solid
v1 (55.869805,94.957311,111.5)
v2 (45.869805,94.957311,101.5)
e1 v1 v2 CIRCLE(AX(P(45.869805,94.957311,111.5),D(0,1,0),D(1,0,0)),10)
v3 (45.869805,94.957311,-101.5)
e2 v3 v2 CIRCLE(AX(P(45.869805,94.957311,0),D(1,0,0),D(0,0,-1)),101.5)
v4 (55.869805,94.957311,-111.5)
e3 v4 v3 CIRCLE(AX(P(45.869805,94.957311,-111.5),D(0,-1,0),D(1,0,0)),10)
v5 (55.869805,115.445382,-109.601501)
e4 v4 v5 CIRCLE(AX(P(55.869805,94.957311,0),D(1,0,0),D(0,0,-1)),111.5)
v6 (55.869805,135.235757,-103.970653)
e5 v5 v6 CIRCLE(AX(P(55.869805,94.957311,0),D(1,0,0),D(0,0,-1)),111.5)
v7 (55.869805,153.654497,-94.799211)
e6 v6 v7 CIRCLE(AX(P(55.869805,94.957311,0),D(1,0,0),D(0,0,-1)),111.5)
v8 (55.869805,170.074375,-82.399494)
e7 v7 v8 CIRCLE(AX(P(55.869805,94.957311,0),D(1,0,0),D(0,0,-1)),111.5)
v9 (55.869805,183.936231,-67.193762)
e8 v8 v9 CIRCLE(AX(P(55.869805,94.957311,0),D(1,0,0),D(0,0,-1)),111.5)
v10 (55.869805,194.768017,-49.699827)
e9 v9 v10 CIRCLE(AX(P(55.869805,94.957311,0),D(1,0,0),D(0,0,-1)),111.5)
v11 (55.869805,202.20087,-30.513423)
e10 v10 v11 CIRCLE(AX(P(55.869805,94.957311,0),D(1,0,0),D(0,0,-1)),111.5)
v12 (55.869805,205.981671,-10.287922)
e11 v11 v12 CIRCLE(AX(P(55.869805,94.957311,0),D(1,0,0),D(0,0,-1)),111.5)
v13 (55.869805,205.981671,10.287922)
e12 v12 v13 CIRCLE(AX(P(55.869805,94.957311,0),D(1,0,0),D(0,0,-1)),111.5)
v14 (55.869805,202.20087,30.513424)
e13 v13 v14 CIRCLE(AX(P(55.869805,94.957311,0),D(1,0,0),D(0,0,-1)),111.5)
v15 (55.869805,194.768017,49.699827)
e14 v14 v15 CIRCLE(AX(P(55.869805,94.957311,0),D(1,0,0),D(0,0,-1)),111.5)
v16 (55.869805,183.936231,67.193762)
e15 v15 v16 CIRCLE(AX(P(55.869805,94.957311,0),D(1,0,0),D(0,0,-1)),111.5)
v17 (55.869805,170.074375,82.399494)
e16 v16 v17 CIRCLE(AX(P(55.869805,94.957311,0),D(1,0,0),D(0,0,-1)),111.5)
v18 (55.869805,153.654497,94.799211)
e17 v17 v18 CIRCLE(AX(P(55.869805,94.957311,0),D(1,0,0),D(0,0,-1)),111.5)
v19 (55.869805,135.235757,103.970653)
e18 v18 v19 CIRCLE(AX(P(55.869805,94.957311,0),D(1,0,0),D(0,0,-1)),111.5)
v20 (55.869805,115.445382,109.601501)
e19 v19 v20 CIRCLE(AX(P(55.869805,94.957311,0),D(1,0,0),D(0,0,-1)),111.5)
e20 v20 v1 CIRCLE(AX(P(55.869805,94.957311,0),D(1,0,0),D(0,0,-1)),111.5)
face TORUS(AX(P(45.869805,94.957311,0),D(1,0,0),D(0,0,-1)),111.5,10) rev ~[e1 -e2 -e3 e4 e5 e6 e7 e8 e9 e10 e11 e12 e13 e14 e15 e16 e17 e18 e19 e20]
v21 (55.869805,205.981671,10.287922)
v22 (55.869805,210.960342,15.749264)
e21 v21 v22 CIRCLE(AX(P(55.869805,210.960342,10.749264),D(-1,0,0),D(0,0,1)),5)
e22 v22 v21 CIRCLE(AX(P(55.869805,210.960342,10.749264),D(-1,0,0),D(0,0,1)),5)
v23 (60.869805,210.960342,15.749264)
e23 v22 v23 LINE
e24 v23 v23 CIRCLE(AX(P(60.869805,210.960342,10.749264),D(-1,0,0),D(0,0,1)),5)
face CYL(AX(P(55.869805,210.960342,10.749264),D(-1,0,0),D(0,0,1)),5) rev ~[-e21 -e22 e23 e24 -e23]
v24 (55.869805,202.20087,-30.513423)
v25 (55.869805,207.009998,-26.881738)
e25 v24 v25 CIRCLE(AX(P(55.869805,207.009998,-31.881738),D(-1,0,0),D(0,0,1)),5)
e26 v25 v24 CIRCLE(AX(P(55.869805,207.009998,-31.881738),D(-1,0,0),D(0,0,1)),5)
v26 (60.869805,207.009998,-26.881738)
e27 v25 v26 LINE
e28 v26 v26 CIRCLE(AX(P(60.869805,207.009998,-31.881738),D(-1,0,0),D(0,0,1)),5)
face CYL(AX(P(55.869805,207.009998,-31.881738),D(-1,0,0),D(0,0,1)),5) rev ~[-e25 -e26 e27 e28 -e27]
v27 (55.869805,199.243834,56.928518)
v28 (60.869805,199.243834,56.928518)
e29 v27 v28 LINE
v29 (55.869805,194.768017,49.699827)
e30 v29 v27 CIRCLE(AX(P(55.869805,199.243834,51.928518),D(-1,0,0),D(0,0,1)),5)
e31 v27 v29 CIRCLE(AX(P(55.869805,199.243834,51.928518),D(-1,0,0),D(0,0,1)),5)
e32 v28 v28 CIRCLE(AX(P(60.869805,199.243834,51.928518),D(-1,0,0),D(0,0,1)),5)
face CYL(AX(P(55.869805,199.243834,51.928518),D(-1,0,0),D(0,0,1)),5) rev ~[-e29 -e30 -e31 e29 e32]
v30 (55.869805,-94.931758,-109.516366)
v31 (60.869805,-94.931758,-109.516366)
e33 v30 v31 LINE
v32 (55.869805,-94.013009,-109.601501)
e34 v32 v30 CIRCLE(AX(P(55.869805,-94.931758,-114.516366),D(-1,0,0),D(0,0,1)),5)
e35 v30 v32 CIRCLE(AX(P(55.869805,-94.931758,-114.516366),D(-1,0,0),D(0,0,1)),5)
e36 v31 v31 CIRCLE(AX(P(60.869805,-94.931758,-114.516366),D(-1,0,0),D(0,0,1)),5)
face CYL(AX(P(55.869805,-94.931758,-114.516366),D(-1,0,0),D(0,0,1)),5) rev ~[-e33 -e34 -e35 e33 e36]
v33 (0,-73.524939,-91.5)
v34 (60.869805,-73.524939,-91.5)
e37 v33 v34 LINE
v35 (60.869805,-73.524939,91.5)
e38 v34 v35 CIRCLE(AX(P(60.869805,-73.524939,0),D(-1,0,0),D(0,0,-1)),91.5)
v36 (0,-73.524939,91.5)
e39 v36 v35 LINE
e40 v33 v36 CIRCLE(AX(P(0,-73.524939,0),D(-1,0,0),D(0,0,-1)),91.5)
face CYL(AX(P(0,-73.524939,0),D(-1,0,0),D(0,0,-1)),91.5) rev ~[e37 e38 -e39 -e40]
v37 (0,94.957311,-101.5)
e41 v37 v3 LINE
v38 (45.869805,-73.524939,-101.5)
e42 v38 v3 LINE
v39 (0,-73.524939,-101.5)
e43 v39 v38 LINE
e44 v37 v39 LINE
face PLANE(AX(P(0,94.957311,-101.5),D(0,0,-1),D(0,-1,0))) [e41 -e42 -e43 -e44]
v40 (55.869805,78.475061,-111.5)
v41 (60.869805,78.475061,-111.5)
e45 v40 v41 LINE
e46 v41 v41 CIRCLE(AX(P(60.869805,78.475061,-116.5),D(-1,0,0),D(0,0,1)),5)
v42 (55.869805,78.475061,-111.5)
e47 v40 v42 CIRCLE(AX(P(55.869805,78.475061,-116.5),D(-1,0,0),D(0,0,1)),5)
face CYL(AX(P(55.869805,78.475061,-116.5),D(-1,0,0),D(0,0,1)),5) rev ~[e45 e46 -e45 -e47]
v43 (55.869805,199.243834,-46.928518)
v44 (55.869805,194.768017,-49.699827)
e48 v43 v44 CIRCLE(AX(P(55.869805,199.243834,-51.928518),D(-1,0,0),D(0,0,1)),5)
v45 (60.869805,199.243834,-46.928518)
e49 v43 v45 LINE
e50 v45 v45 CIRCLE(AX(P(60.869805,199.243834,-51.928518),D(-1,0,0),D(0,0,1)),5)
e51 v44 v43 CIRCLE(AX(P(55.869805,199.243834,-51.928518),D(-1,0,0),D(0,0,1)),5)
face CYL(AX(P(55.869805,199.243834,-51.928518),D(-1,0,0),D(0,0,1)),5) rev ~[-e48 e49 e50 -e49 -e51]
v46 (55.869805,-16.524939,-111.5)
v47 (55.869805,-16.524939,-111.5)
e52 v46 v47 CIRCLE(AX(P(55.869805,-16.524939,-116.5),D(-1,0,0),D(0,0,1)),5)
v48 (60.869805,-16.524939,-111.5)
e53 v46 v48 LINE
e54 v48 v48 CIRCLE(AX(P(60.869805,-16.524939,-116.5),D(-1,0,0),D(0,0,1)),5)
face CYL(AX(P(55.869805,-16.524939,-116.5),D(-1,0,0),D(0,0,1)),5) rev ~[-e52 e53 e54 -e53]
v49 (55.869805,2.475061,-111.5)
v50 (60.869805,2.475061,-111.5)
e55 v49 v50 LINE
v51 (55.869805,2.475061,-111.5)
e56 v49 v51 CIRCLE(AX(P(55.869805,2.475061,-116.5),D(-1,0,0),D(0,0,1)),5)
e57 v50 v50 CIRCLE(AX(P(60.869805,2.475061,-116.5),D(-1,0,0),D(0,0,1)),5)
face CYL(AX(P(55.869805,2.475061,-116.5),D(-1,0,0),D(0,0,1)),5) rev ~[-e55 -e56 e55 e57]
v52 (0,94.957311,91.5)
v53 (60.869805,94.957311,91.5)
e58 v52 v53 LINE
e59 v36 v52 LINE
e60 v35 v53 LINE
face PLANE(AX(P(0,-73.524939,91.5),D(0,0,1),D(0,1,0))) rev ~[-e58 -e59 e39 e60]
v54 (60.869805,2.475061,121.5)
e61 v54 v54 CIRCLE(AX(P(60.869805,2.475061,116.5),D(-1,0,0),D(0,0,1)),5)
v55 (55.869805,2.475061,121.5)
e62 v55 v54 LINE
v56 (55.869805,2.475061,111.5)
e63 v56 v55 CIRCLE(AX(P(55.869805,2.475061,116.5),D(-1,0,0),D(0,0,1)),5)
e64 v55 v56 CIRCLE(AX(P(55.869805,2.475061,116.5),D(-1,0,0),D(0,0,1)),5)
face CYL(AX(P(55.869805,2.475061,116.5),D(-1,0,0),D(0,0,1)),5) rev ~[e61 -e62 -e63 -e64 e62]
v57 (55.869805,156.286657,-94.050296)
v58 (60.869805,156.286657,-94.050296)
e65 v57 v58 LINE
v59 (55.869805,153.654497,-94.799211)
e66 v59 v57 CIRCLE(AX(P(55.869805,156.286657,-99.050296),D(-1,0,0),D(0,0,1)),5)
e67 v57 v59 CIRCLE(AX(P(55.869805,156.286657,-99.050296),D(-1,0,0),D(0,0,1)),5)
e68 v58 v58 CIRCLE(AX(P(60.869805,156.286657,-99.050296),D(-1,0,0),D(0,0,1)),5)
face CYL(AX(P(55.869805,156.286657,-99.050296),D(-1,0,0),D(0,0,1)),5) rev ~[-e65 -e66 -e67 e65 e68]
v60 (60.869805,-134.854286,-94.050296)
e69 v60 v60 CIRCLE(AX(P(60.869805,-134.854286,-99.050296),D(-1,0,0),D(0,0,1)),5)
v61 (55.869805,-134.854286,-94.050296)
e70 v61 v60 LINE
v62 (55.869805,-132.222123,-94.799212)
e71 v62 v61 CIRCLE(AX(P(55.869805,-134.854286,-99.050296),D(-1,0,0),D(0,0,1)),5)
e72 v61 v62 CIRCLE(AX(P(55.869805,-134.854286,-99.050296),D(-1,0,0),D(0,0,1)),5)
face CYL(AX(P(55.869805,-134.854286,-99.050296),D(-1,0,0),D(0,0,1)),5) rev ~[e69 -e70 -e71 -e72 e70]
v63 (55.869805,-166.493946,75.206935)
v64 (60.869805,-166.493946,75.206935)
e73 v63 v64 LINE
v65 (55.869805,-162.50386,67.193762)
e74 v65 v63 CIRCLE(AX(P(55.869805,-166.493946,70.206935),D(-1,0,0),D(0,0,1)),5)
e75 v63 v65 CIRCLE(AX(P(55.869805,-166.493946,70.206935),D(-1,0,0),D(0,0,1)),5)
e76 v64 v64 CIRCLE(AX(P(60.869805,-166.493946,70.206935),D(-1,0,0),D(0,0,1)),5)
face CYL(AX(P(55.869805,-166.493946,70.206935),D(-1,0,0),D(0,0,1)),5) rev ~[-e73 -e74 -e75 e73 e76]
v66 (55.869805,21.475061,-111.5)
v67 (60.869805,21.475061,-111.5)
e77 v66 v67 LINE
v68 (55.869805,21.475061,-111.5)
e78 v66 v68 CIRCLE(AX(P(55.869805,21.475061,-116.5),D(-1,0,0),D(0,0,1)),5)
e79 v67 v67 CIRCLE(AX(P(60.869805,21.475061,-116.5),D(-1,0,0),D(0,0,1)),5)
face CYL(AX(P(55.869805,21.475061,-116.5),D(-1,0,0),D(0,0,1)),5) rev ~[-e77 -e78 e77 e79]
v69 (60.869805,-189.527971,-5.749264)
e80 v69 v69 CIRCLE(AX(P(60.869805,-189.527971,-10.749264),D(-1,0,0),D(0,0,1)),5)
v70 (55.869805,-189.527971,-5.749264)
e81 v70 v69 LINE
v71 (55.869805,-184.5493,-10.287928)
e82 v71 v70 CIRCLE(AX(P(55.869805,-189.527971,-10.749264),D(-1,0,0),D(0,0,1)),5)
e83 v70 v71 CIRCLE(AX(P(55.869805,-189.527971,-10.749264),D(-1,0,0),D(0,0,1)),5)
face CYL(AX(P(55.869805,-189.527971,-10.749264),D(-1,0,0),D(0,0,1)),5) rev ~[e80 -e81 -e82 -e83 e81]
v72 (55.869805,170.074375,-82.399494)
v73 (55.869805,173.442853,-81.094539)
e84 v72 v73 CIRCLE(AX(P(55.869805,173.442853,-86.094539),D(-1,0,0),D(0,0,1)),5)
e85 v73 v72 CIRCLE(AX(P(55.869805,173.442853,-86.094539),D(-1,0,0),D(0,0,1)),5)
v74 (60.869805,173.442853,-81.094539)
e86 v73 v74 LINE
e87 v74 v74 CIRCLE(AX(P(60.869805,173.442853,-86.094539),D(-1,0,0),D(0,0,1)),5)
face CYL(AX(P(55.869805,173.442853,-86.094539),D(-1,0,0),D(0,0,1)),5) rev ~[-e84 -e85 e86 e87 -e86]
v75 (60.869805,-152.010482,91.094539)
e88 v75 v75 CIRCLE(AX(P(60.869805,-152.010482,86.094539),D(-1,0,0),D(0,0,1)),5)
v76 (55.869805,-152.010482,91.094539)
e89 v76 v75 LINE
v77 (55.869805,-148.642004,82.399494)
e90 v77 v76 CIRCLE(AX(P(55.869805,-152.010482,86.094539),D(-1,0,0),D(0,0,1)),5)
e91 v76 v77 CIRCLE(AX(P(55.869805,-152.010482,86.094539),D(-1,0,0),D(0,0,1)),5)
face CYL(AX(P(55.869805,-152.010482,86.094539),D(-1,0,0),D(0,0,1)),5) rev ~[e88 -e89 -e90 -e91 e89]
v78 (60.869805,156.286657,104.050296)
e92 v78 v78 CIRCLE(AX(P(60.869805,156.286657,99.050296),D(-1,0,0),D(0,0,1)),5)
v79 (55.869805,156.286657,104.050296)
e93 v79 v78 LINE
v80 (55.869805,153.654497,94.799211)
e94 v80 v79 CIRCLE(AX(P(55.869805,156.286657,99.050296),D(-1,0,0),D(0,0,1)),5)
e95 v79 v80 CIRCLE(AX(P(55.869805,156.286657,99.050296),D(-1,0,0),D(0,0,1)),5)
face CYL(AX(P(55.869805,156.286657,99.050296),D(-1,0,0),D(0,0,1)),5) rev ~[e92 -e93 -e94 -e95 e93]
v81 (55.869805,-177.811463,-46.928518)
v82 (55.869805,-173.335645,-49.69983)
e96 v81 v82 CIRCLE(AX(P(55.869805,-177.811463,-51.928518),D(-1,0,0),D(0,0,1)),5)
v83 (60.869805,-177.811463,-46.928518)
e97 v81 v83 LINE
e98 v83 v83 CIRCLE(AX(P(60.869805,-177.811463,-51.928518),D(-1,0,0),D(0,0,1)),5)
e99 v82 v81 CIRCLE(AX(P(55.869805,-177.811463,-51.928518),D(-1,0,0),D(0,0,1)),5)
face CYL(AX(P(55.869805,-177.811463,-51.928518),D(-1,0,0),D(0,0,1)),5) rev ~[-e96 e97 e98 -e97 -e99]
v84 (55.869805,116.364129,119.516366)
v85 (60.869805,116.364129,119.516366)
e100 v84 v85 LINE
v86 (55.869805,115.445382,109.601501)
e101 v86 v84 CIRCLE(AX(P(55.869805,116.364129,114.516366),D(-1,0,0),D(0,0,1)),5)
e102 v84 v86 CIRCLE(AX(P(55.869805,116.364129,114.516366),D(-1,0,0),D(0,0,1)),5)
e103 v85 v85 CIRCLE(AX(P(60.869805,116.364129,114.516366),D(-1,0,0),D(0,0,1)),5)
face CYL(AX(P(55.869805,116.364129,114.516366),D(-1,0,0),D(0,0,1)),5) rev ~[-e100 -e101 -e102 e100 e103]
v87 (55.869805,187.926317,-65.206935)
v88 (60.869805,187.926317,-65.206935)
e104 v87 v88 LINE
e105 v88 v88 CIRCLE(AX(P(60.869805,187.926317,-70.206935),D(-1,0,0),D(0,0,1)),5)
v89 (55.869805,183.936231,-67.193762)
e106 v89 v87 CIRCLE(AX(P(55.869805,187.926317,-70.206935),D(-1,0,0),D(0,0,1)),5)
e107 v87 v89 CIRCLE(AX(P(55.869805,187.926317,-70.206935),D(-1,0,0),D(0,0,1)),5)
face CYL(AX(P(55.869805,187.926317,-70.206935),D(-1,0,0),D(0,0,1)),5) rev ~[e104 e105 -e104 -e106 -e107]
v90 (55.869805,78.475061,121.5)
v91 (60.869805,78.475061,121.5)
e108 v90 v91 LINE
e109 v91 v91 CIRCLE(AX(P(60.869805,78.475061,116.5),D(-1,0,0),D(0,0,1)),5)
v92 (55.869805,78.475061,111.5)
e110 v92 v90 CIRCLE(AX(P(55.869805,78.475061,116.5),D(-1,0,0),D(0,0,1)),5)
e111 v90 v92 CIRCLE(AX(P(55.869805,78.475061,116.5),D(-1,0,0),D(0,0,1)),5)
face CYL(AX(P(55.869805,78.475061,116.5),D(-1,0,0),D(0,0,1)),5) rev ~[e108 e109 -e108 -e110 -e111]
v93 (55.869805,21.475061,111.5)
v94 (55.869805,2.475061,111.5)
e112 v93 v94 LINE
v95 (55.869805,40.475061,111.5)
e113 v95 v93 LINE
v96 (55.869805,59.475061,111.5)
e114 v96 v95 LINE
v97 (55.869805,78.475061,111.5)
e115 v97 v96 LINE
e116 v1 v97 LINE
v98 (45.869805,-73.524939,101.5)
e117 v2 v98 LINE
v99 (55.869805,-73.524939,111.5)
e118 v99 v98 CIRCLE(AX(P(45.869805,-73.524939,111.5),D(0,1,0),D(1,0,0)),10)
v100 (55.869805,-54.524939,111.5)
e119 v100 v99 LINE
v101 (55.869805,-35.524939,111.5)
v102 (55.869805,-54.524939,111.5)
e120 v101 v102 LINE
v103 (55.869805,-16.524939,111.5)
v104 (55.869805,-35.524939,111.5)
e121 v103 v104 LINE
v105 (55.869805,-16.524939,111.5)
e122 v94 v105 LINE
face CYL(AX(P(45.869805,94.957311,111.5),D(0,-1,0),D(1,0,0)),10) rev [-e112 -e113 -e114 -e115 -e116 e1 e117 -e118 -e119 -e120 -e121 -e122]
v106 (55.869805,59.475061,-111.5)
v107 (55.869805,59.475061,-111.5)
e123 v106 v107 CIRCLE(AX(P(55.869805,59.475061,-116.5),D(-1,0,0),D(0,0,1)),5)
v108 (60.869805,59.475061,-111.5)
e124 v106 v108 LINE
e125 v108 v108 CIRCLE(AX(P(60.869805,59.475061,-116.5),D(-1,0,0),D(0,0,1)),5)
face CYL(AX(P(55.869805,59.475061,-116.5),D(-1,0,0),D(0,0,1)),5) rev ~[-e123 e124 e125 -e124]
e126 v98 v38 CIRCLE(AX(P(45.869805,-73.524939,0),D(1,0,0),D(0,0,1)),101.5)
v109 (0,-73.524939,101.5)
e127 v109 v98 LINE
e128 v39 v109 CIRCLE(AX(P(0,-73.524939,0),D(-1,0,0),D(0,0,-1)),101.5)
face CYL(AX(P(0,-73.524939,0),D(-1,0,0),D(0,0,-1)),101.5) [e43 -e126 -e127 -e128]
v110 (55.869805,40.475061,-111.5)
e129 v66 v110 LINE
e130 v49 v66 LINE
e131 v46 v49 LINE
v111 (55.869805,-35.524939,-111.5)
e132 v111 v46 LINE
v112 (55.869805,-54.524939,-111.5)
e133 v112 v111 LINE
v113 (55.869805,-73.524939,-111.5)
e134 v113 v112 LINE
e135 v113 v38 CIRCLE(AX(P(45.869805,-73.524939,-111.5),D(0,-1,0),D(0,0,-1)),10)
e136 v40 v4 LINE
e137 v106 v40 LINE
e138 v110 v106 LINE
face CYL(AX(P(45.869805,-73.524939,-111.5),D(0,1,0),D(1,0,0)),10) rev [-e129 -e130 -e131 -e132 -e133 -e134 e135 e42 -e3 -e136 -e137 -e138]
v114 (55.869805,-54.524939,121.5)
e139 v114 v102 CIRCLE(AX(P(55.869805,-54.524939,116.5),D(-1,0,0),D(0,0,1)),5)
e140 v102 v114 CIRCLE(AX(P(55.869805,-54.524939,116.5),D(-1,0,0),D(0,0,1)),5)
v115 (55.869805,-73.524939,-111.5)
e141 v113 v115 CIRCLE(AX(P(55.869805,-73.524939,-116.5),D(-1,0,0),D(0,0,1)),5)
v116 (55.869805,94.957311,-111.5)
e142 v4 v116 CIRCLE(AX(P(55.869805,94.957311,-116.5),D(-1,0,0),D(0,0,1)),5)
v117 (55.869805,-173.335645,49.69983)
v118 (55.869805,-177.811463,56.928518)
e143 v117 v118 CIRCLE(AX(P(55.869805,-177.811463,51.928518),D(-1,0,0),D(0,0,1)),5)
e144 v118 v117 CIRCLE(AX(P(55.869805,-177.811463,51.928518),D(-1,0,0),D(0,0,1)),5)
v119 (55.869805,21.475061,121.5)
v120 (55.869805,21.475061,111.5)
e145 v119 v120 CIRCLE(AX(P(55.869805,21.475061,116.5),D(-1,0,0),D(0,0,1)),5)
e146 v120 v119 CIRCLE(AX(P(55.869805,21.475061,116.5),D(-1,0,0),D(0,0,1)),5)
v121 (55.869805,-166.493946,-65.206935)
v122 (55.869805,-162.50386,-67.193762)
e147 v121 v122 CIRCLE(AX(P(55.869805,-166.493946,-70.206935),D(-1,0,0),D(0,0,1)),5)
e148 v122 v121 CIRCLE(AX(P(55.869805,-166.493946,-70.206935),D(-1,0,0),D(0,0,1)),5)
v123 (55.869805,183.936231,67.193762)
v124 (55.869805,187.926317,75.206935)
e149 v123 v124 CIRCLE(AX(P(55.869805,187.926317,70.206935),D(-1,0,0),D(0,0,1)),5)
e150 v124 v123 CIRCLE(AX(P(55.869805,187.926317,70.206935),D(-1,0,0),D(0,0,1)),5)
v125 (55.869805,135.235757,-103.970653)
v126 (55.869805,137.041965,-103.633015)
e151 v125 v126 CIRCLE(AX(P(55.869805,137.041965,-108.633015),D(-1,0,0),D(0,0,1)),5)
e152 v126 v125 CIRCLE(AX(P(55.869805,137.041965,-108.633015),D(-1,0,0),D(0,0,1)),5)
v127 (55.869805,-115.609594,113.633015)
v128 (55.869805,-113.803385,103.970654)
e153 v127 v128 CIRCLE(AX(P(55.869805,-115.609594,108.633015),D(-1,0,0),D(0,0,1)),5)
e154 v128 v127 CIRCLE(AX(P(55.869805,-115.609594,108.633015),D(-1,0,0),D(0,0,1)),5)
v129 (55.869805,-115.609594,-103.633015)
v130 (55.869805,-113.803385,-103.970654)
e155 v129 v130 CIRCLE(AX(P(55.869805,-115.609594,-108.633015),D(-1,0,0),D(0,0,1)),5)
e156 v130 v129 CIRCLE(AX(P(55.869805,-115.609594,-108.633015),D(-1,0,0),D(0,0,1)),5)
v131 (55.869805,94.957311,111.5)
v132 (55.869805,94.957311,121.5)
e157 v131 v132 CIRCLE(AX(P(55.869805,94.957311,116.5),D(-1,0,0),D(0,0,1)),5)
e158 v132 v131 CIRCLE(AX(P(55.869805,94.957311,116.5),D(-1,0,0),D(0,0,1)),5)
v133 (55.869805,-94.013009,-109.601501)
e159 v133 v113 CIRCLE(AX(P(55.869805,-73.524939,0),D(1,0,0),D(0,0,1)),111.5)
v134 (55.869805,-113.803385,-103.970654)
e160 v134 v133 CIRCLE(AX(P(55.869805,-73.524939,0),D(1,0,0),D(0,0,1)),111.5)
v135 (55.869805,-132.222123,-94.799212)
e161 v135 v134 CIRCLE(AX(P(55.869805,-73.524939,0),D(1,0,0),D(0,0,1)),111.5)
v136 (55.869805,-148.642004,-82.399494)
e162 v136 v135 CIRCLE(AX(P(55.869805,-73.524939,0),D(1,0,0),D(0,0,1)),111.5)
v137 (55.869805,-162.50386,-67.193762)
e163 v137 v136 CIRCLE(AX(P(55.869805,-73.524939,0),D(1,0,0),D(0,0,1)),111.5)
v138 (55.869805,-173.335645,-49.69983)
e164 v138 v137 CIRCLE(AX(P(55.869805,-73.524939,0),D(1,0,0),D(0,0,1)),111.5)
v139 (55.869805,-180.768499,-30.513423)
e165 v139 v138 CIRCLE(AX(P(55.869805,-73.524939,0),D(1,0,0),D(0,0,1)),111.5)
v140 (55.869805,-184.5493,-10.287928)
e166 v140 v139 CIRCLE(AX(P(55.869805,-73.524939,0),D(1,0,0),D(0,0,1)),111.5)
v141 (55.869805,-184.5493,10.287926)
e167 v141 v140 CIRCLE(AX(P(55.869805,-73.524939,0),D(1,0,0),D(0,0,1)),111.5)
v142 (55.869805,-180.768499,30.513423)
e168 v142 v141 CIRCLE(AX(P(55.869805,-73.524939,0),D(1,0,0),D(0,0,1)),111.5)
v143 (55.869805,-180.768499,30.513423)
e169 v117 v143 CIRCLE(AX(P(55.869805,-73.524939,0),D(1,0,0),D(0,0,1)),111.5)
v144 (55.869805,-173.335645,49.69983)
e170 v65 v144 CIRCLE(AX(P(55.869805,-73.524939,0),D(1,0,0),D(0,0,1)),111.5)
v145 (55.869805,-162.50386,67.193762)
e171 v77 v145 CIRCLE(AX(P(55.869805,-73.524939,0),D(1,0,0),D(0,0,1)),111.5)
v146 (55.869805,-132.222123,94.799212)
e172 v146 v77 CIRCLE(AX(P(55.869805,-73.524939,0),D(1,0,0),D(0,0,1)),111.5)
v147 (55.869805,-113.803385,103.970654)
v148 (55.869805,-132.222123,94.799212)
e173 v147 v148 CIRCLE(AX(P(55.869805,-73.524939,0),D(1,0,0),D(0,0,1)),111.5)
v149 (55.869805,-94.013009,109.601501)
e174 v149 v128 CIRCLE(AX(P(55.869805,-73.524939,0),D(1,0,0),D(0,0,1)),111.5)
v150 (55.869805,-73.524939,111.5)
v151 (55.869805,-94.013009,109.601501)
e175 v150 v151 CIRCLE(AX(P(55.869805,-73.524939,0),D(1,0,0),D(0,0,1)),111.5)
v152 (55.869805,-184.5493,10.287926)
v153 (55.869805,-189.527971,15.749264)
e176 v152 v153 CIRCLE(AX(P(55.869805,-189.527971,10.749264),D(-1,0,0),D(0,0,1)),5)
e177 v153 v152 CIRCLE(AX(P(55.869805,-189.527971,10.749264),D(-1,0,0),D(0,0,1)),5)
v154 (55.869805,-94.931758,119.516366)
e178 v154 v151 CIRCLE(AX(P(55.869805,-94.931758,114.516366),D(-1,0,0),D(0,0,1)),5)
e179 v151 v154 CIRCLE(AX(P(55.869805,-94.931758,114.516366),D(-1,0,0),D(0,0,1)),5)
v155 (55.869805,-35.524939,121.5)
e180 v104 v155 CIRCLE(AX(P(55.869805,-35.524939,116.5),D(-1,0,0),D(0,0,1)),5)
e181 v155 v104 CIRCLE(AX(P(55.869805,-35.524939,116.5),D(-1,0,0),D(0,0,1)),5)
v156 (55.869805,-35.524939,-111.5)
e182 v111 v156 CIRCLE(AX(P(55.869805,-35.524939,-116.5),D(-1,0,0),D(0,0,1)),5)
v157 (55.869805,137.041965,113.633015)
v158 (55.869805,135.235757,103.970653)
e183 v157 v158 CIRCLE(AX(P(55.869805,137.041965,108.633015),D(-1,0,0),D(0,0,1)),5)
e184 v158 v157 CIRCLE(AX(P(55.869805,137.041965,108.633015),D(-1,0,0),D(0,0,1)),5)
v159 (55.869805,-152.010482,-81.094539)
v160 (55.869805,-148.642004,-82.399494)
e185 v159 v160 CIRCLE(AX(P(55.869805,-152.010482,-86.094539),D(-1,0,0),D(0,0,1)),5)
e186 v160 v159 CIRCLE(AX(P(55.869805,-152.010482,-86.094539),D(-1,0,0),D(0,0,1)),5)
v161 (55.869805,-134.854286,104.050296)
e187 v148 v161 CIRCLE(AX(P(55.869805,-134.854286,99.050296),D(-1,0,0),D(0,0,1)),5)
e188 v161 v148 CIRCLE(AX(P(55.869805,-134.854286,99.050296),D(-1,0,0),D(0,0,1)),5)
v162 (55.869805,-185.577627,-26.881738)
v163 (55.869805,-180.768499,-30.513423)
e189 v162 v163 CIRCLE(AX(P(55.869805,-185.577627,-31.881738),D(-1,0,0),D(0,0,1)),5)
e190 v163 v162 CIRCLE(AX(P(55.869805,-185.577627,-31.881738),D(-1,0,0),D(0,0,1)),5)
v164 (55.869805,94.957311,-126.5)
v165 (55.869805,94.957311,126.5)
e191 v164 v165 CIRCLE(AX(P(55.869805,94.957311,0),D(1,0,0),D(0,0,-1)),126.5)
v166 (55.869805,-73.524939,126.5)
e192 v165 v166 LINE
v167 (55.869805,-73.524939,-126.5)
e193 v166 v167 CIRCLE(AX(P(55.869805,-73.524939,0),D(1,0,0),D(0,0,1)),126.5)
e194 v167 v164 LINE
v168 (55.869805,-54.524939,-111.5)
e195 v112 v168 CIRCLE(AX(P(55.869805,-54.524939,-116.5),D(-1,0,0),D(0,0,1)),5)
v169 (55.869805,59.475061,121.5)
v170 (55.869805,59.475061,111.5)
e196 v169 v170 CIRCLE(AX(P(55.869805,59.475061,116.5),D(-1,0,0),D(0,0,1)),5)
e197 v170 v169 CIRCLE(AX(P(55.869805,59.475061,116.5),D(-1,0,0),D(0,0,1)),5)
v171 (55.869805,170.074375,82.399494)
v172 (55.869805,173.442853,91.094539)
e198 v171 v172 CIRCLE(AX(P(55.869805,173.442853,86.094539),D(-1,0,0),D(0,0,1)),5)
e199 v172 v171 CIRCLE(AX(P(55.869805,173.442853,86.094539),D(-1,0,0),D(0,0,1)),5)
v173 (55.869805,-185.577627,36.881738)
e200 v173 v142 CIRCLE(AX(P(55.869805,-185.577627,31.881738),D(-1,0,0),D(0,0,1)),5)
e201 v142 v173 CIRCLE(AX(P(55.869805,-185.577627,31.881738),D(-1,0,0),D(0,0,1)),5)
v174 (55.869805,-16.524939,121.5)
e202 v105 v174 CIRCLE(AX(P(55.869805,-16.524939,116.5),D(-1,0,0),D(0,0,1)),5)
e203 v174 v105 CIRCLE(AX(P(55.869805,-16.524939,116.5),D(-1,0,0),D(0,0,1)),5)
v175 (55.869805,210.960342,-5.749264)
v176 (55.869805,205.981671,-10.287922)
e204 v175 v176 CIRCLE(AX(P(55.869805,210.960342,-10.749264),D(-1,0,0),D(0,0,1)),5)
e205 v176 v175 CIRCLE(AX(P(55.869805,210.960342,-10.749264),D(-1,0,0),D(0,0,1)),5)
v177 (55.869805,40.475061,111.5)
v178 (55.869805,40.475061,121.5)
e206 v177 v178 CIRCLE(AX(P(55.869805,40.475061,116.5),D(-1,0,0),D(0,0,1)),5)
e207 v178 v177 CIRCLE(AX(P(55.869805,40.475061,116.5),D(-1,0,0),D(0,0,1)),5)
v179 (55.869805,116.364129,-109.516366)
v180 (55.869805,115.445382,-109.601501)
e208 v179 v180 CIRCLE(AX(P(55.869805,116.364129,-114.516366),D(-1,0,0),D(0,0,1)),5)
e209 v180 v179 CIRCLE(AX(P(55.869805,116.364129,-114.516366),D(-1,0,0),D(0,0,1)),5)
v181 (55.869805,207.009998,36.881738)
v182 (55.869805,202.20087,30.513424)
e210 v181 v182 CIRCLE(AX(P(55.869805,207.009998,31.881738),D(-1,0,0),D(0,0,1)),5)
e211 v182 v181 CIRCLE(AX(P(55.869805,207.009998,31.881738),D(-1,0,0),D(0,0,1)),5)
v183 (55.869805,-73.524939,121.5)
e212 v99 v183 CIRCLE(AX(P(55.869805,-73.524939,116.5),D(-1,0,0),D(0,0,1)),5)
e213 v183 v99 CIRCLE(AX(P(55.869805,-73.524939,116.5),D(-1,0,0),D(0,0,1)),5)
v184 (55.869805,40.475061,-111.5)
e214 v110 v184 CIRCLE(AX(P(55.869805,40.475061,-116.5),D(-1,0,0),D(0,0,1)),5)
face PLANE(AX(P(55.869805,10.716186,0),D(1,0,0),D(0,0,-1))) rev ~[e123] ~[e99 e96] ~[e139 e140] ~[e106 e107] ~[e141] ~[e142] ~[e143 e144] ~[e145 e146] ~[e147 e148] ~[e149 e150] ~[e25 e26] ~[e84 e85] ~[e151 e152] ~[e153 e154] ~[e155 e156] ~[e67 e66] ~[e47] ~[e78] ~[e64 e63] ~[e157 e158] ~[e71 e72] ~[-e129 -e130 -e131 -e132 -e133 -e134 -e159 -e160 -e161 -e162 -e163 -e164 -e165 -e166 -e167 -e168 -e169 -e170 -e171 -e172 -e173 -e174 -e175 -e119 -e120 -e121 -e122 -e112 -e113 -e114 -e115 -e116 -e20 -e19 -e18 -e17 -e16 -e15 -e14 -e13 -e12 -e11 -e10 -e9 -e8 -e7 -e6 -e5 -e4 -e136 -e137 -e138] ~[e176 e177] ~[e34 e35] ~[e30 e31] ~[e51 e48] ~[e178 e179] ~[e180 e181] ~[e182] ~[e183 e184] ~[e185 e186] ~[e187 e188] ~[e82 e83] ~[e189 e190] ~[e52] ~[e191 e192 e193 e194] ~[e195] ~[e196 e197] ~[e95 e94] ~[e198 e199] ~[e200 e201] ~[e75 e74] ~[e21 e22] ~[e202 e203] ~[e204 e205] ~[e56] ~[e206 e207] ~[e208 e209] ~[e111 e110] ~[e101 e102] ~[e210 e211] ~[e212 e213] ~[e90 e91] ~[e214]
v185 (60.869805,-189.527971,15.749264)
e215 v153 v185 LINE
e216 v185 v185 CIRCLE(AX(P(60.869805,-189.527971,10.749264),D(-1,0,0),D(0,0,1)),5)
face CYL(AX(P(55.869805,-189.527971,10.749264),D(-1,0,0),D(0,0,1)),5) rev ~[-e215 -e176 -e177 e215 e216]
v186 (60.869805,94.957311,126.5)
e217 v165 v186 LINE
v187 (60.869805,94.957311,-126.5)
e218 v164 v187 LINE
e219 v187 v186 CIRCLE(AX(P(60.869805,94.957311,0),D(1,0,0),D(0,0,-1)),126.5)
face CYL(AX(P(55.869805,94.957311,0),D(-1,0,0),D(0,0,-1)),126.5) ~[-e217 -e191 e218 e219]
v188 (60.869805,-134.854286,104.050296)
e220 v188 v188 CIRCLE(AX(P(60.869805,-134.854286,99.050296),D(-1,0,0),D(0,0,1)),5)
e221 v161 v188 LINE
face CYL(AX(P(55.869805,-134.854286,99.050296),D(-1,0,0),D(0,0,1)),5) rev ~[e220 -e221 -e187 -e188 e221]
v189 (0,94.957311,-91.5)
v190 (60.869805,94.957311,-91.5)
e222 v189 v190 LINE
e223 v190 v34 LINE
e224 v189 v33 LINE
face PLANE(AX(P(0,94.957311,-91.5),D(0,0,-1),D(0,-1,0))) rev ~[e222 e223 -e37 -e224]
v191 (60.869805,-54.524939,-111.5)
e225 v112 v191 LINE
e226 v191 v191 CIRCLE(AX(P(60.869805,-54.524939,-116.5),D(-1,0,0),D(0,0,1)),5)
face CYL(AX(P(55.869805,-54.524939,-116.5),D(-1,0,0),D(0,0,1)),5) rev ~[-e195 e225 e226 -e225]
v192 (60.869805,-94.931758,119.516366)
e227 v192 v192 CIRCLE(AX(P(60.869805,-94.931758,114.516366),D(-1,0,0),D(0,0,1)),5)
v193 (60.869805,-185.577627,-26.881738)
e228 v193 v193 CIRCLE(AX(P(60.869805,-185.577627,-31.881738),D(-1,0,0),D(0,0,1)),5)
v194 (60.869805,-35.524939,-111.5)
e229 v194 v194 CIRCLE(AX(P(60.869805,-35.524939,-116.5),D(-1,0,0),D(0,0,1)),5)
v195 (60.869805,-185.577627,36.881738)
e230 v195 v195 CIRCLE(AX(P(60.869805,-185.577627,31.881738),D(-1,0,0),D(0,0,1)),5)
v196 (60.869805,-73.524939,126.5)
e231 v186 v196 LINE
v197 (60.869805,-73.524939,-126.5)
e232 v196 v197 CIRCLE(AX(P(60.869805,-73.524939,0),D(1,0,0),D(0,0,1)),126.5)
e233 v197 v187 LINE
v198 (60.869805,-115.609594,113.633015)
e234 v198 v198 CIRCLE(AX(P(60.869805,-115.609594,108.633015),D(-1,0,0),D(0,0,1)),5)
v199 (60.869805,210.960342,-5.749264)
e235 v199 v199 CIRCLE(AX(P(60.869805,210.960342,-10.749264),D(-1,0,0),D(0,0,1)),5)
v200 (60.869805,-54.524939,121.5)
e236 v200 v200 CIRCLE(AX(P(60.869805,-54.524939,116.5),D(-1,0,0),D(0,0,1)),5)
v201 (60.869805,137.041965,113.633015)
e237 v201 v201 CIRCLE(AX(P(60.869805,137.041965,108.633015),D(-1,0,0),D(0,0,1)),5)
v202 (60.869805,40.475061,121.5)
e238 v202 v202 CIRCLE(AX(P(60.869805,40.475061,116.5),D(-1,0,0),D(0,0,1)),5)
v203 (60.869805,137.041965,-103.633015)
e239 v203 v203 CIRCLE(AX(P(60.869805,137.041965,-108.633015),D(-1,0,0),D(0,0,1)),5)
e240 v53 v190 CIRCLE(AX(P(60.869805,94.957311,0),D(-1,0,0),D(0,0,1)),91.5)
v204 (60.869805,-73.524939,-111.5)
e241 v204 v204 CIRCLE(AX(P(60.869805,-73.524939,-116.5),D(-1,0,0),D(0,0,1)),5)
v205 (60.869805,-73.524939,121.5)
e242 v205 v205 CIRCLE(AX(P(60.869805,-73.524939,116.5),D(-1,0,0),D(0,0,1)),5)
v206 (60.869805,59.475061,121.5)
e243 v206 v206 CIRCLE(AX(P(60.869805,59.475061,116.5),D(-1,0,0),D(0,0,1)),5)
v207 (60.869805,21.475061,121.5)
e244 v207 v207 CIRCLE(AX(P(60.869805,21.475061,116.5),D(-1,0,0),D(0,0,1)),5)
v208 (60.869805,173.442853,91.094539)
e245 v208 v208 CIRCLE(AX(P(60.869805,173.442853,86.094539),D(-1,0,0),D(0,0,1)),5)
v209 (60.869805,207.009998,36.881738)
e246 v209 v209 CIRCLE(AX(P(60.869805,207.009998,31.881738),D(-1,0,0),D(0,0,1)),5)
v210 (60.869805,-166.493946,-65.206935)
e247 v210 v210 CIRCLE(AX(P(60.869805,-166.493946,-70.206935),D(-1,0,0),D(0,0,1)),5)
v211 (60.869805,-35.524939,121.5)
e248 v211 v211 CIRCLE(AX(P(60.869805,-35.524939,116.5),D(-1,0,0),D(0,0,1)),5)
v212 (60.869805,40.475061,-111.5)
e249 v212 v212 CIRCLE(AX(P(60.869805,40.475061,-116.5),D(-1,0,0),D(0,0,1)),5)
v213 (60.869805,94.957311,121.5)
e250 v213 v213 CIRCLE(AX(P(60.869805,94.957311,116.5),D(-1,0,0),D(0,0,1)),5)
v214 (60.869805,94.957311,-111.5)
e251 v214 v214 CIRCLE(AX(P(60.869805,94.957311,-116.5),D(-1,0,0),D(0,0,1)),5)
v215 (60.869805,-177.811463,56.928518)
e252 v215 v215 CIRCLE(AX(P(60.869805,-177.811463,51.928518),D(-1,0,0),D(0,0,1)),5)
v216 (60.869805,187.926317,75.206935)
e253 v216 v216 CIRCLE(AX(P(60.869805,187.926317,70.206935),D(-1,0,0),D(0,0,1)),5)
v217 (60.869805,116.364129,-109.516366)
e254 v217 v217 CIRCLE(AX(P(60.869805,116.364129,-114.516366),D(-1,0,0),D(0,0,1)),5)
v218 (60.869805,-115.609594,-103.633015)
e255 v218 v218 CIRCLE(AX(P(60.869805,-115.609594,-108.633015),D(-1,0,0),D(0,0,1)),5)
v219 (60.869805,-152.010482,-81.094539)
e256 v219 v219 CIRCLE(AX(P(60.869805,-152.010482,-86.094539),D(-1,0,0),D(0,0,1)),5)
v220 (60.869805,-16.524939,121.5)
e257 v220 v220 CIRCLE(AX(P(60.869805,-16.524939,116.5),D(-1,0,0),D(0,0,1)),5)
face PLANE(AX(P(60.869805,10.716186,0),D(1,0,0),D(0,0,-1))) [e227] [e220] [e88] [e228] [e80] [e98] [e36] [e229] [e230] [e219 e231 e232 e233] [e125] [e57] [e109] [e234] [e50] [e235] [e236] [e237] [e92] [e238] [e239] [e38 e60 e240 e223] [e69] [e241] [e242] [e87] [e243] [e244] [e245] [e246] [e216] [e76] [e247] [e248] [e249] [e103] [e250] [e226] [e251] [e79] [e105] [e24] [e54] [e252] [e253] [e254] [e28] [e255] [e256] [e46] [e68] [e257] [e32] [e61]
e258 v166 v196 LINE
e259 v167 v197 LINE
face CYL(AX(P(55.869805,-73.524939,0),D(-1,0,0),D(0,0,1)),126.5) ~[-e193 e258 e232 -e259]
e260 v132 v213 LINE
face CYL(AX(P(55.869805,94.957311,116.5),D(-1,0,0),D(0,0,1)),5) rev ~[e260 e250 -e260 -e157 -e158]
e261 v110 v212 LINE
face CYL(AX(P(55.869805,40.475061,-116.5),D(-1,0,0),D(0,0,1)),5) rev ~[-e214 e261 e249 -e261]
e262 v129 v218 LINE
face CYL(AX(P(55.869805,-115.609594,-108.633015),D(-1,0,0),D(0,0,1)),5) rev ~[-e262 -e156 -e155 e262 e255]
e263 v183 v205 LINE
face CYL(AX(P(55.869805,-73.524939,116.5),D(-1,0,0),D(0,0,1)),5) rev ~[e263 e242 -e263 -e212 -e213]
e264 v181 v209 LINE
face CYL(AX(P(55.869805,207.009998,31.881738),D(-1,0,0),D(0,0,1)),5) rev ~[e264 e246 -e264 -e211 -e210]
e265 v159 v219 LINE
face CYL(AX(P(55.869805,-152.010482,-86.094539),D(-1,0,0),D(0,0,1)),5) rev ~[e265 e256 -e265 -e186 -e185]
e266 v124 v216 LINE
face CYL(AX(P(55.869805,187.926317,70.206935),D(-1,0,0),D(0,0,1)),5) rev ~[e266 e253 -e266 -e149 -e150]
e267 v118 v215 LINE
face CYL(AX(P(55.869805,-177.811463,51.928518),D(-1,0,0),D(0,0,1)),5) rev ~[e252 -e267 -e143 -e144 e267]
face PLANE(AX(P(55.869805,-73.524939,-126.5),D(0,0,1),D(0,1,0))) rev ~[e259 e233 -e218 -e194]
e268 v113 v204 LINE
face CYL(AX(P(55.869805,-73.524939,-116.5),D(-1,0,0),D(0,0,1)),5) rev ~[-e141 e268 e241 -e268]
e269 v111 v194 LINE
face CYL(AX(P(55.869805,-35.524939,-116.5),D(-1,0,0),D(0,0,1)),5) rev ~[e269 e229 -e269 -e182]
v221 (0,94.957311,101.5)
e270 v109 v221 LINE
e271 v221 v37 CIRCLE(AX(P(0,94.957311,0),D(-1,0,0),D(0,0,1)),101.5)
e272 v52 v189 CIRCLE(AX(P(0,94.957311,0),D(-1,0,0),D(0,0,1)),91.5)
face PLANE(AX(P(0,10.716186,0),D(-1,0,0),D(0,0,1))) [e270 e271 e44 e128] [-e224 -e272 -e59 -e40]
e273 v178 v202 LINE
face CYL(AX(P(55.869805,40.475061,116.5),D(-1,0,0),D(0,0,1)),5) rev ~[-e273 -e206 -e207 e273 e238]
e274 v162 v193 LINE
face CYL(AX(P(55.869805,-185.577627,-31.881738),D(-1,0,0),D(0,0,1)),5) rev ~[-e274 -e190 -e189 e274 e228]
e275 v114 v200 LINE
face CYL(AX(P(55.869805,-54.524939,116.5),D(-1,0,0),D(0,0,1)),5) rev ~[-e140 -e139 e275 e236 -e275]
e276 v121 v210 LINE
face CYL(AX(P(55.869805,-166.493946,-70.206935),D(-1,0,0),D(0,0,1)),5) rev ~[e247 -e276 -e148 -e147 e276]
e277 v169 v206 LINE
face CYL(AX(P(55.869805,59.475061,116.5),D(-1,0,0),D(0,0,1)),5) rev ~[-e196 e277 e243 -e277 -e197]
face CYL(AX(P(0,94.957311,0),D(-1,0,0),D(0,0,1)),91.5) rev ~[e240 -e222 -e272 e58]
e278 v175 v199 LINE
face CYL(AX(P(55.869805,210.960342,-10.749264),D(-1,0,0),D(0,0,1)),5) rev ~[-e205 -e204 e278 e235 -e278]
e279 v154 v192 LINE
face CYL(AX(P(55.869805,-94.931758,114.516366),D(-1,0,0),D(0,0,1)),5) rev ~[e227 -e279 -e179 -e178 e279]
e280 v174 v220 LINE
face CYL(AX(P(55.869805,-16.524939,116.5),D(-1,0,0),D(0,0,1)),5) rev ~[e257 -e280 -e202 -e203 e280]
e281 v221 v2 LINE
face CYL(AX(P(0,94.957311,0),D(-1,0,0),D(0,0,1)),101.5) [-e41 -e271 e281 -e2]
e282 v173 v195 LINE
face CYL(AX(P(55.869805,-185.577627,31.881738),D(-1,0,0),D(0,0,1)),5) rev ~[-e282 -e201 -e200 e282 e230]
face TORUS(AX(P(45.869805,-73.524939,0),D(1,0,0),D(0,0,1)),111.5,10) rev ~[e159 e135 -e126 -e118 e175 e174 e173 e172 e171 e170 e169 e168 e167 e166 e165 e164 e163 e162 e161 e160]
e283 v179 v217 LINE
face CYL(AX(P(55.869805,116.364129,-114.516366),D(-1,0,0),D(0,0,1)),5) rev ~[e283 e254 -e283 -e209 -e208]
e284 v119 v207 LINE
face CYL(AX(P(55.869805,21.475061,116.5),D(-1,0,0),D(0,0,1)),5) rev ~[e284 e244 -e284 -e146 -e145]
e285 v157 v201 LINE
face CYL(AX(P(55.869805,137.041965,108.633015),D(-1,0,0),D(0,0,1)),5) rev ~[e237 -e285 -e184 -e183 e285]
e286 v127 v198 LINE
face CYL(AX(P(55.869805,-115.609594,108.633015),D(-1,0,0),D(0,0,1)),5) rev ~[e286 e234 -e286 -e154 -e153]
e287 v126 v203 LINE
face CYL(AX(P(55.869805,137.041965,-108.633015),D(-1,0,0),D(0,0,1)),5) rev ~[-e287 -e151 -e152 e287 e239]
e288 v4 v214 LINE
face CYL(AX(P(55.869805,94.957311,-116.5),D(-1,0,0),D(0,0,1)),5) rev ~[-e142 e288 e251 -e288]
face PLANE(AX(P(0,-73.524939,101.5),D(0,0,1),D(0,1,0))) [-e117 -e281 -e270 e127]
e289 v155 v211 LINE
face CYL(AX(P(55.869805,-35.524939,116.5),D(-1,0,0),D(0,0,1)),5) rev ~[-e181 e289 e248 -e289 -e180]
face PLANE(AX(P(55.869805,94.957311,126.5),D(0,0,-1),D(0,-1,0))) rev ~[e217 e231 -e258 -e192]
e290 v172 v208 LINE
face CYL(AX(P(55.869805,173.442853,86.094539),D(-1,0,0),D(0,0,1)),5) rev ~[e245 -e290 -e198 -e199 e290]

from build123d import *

# Parameters (mm, degrees)
BOSS_EXTRUDE1_DEPTH = 60.869805
BOSS_EXTRUDE2_START = -5
BOSS_EXTRUDE2_DEPTH = 5
FILLET1_R           = 10
SKETCH3_R           = 4.999999999999958
SKETCH3_R_2         = 4.999999999999997
SKETCH3_R_3         = 4.999999999999978
SKETCH3_R_4         = 4.999999999999986
SKETCH3_R_5         = 4.999999999999999
SKETCH3_R_6         = 5.0000000000000036
SKETCH3_R_7         = 4.999999999999983
SKETCH3_R_8         = 4.999999999999977
SKETCH3_R_9         = 5.000000000000012
SKETCH3_R_10        = 4.999999999999975
SKETCH3_R_11        = 4.9999999999999885
SKETCH3_R_12        = 4.999999999999973
SKETCH3_R_13        = 4.999999999999992
SKETCH3_R_14        = 4.999999999999971
SKETCH3_R_15        = 4.999999999999981
SKETCH3_R_16        = 4.999999999999987
SKETCH3_R_17        = 5.000000000001771
SKETCH3_R_18        = 4.9999999999999964
SKETCH3_R_19        = 4.999999999999843
SKETCH3_R_20        = 4.999999999999972
SKETCH3_R_21        = 5.000000000000026
SKETCH3_R_22        = 5.000000000000054
SKETCH3_R_23        = 5.000000000000019
SKETCH3_R_24        = 5.000000000000072
SKETCH3_R_25        = 4.999999999999844
SKETCH3_R_26        = 4.99999999999993
SKETCH3_R_27        = 5.000000000000166
SKETCH3_R_28        = 4.999999999999691
SKETCH3_R_29        = 5.000000000000506
SKETCH3_R_30        = 4.999999999999985
SKETCH3_R_31        = 4.999999999999989
SKETCH3_R_32        = 5.00000000000002
SKETCH3_R_33        = 4.999999999999994
SKETCH3_R_34        = 5.000000000000028
SKETCH3_R_35        = 4.99999999999996
SKETCH3_R_36        = 5.000000000000008
SKETCH3_R_37        = 5.000000000000001
SKETCH3_R_38        = 5.000000000000018
SKETCH3_R_39        = 5.000000000000002
SKETCH3_R_40        = 4.99999999999998
CUT_EXTRUDE1_DEPTH  = 5


with BuildPart() as part:
    # Sketch1 → Boss-Extrude1 (new body)
    with BuildSketch(Plane(origin=(0, 0, 0), x_dir=(0, 0, -1), z_dir=(1, 0, 0))):
        with BuildLine():
            Line((-101.5, -73.52493948763251), (-101.5, 94.95731051236748))
            ThreePointArc((-101.5, 94.95731051236748), (2.875e-14, 196.45731051236748), (101.5, 94.95731051236748))
            Line((101.5, 94.95731051236748), (101.5, -73.52493948763251))
            ThreePointArc((101.5, -73.52493948763251), (-1.865e-14, -175.0249394876325), (-101.5, -73.52493948763251))
        make_face()
        with BuildLine():
            Line((-91.5, -73.52493948763251), (-91.5, 94.95731051236748))
            ThreePointArc((-91.5, 94.95731051236748), (2.592e-14, 186.45731051236748), (91.5, 94.95731051236748))
            Line((91.5, 94.95731051236748), (91.5, -73.52493948763251))
            ThreePointArc((91.5, -73.52493948763251), (-1.681e-14, -165.0249394876325), (-91.5, -73.52493948763251))
        make_face(mode=Mode.SUBTRACT)
    extrude(amount=BOSS_EXTRUDE1_DEPTH)

    # Sketch2 → Boss-Extrude2 (add)
    with BuildSketch(Plane(origin=(60.869805, 0, 0), x_dir=(0, 0, -1), z_dir=(1, 0, 0)).offset(BOSS_EXTRUDE2_START)):
        with BuildLine():
            Line((-126.5, 94.95731051236748), (-126.5, -73.52493948763251))
            ThreePointArc((-126.5, -73.52493948763251), (-2.324e-14, -200.0249394876325), (126.5, -73.52493948763254))
            Line((126.5, -73.52493948763254), (126.5, 94.95731051236748))
            ThreePointArc((126.5, 94.95731051236748), (3.583e-14, 221.45731051236748), (-126.5, 94.95731051236748))
        make_face()
        with BuildLine():
            Line((101.5, -73.52493948763251), (101.5, 94.9573105123675))
            ThreePointArc((101.5, 94.9573105123675), (6.22e-15, 196.45731051236748), (-101.5, 94.95731051236751))
            Line((-101.5, 94.95731051236751), (-101.5, -73.52493948763251))
            ThreePointArc((-101.5, -73.52493948763251), (-1.865e-14, -175.0249394876325), (101.5, -73.52493948763251))
        make_face(mode=Mode.SUBTRACT)
    extrude(amount=BOSS_EXTRUDE2_DEPTH)

    # Fillet1
    fillet1_edges = [part.edges().sort_by_distance(p)[0] for p in [
        (55.869805, 10.716185512367502, 101.5),
        (55.869805, -175.0249394876325, 6.22e-15),
        (55.869805, 10.716185512367502, -101.5),
        (55.869805, 196.45731051236746, -3.12e-14),
    ]]
    fillet(fillet1_edges, radius=FILLET1_R)

    # Sketch3 → Cut-Extrude1 (cut)
    with BuildSketch(Plane.ZY.offset(-55.869805)):
        with Locations((116.50000000000001, -73.52493948763254)):
            Circle(SKETCH3_R)
        with Locations((116.49999999999991, -54.5249394876325)):
            Circle(SKETCH3_R_2)
        with Locations((114.51636611317501, -94.931758313259)):
            Circle(SKETCH3_R_3)
        with Locations((116.49999999999986, -35.52493948763251)):
            Circle(SKETCH3_R_4)
        with Locations((108.6330147256083, -115.60959359843197)):
            Circle(SKETCH3_R_5)
        with Locations((116.4999999999998, -16.52493948763251)):
            Circle(SKETCH3_R_4)
        with Locations((99.05029631250127, -134.85428646284086)):
            Circle(SKETCH3_R_6)
        with Locations((116.49999999999973, 2.475060512367487)):
            Circle(SKETCH3_R_7)
        with Locations((86.09453885620829, -152.0104819724531)):
            Circle(SKETCH3_R_8)
        with Locations((116.49999999999966, 21.475060512367484)):
            Circle(SKETCH3_R_7)
        with Locations((70.20693513818516, -166.4939464657774)):
            Circle(SKETCH3_R_9)
        with Locations((116.4999999999996, 40.47506051236748)):
            Circle(SKETCH3_R_10)
        with Locations((51.92851844796862, -177.8114629304947)):
            Circle(SKETCH3_R_11)
        with Locations((116.49999999999955, 59.47506051236749)):
            Circle(SKETCH3_R_12)
        with Locations((31.88173834339966, -185.57762691726376)):
            Circle(SKETCH3_R_13)
        with Locations((116.49999999999947, 78.47506051236748)):
            Circle(SKETCH3_R_14)
        with Locations((10.749263877476684, -189.52797102600218)):
            Circle(SKETCH3_R_15)
        with Locations((116.5, 94.95731051236747)):
            Circle(SKETCH3_R_16)
        with Locations((-10.74926387747449, -189.52797102600255)):
            Circle(SKETCH3_R_17)
        with Locations((114.51636611317436, 116.36412933800038)):
            Circle(SKETCH3_R_18)
        with Locations((-31.88173834339559, -185.57762691726487)):
            Circle(SKETCH3_R_19)
        with Locations((108.63301472560718, 137.04196462317321)):
            Circle(SKETCH3_R_7)
        with Locations((-51.92851844796495, -177.81146293049648)):
            Circle(SKETCH3_R_20)
        with Locations((99.05029631249955, 156.28665748758178)):
            Circle(SKETCH3_R_21)
        with Locations((-70.20693513818196, -166.49394646577989)):
            Circle(SKETCH3_R_22)
        with Locations((86.09453885620606, 173.44285299719374)):
            Circle(SKETCH3_R_23)
        with Locations((-86.09453885620559, -152.01048197245612)):
            Circle(SKETCH3_R_24)
        with Locations((70.20693513818269, 187.92631749051756)):
            Circle(SKETCH3_R_25)
        with Locations((-99.05029631249904, -134.85428646284436)):
            Circle(SKETCH3_R_26)
        with Locations((51.92851844796559, 199.24383395523438)):
            Circle(SKETCH3_R_27)
        with Locations((-108.63301472560683, -115.60959359843577)):
            Circle(SKETCH3_R_14)
        with Locations((31.88173834339691, 207.0099979420027)):
            Circle(SKETCH3_R_28)
        with Locations((-114.51636611317423, -94.93175831326297)):
            Circle(SKETCH3_R_7)
        with Locations((10.749263877472986, 210.96034205074073)):
            Circle(SKETCH3_R_29)
        with Locations((-116.5, -73.52493948763251)):
            Circle(SKETCH3_R_30)
        with Locations((-10.74926387747589, 210.96034205074054)):
            Circle(SKETCH3_R_2)
        with Locations((-116.50000000000006, -54.5249394876325)):
            Circle(SKETCH3_R_31)
        with Locations((-31.881738343398844, 207.0099979420022)):
            Circle(SKETCH3_R_32)
        with Locations((-116.50000000000014, -35.52493948763251)):
            Circle(SKETCH3_R_33)
        with Locations((-51.92851844796793, 199.24383395523336)):
            Circle(SKETCH3_R_34)
        with Locations((-116.50000000000016, -16.52493948763253)):
            Circle(SKETCH3_R_35)
        with Locations((-70.20693513818448, 187.9263174905162)):
            Circle(SKETCH3_R_14)
        with Locations((-116.50000000000026, 2.4750605123674947)):
            Circle(SKETCH3_R_16)
        with Locations((-86.09453885620772, 173.44285299719198)):
            Circle(SKETCH3_R_36)
        with Locations((-116.50000000000033, 21.47506051236749)):
            Circle(SKETCH3_R_16)
        with Locations((-99.05029631250082, 156.28665748757987)):
            Circle(SKETCH3_R_37)
        with Locations((-116.50000000000041, 40.47506051236749)):
            Circle(SKETCH3_R_2)
        with Locations((-108.63301472560802, 137.04196462317103)):
            Circle(SKETCH3_R_38)
        with Locations((-116.50000000000045, 59.475060512367506)):
            Circle(SKETCH3_R_31)
        with Locations((-114.51636611317484, 116.36412933799802)):
            Circle(SKETCH3_R_39)
        with Locations((-116.50000000000051, 78.47506051236749)):
            Circle(SKETCH3_R_40)
        with Locations((-116.49999999999997, 94.9573105123675)):
            Circle(SKETCH3_R_16)
    extrude(amount=-CUT_EXTRUDE1_DEPTH, mode=Mode.SUBTRACT)


solid = part.part
